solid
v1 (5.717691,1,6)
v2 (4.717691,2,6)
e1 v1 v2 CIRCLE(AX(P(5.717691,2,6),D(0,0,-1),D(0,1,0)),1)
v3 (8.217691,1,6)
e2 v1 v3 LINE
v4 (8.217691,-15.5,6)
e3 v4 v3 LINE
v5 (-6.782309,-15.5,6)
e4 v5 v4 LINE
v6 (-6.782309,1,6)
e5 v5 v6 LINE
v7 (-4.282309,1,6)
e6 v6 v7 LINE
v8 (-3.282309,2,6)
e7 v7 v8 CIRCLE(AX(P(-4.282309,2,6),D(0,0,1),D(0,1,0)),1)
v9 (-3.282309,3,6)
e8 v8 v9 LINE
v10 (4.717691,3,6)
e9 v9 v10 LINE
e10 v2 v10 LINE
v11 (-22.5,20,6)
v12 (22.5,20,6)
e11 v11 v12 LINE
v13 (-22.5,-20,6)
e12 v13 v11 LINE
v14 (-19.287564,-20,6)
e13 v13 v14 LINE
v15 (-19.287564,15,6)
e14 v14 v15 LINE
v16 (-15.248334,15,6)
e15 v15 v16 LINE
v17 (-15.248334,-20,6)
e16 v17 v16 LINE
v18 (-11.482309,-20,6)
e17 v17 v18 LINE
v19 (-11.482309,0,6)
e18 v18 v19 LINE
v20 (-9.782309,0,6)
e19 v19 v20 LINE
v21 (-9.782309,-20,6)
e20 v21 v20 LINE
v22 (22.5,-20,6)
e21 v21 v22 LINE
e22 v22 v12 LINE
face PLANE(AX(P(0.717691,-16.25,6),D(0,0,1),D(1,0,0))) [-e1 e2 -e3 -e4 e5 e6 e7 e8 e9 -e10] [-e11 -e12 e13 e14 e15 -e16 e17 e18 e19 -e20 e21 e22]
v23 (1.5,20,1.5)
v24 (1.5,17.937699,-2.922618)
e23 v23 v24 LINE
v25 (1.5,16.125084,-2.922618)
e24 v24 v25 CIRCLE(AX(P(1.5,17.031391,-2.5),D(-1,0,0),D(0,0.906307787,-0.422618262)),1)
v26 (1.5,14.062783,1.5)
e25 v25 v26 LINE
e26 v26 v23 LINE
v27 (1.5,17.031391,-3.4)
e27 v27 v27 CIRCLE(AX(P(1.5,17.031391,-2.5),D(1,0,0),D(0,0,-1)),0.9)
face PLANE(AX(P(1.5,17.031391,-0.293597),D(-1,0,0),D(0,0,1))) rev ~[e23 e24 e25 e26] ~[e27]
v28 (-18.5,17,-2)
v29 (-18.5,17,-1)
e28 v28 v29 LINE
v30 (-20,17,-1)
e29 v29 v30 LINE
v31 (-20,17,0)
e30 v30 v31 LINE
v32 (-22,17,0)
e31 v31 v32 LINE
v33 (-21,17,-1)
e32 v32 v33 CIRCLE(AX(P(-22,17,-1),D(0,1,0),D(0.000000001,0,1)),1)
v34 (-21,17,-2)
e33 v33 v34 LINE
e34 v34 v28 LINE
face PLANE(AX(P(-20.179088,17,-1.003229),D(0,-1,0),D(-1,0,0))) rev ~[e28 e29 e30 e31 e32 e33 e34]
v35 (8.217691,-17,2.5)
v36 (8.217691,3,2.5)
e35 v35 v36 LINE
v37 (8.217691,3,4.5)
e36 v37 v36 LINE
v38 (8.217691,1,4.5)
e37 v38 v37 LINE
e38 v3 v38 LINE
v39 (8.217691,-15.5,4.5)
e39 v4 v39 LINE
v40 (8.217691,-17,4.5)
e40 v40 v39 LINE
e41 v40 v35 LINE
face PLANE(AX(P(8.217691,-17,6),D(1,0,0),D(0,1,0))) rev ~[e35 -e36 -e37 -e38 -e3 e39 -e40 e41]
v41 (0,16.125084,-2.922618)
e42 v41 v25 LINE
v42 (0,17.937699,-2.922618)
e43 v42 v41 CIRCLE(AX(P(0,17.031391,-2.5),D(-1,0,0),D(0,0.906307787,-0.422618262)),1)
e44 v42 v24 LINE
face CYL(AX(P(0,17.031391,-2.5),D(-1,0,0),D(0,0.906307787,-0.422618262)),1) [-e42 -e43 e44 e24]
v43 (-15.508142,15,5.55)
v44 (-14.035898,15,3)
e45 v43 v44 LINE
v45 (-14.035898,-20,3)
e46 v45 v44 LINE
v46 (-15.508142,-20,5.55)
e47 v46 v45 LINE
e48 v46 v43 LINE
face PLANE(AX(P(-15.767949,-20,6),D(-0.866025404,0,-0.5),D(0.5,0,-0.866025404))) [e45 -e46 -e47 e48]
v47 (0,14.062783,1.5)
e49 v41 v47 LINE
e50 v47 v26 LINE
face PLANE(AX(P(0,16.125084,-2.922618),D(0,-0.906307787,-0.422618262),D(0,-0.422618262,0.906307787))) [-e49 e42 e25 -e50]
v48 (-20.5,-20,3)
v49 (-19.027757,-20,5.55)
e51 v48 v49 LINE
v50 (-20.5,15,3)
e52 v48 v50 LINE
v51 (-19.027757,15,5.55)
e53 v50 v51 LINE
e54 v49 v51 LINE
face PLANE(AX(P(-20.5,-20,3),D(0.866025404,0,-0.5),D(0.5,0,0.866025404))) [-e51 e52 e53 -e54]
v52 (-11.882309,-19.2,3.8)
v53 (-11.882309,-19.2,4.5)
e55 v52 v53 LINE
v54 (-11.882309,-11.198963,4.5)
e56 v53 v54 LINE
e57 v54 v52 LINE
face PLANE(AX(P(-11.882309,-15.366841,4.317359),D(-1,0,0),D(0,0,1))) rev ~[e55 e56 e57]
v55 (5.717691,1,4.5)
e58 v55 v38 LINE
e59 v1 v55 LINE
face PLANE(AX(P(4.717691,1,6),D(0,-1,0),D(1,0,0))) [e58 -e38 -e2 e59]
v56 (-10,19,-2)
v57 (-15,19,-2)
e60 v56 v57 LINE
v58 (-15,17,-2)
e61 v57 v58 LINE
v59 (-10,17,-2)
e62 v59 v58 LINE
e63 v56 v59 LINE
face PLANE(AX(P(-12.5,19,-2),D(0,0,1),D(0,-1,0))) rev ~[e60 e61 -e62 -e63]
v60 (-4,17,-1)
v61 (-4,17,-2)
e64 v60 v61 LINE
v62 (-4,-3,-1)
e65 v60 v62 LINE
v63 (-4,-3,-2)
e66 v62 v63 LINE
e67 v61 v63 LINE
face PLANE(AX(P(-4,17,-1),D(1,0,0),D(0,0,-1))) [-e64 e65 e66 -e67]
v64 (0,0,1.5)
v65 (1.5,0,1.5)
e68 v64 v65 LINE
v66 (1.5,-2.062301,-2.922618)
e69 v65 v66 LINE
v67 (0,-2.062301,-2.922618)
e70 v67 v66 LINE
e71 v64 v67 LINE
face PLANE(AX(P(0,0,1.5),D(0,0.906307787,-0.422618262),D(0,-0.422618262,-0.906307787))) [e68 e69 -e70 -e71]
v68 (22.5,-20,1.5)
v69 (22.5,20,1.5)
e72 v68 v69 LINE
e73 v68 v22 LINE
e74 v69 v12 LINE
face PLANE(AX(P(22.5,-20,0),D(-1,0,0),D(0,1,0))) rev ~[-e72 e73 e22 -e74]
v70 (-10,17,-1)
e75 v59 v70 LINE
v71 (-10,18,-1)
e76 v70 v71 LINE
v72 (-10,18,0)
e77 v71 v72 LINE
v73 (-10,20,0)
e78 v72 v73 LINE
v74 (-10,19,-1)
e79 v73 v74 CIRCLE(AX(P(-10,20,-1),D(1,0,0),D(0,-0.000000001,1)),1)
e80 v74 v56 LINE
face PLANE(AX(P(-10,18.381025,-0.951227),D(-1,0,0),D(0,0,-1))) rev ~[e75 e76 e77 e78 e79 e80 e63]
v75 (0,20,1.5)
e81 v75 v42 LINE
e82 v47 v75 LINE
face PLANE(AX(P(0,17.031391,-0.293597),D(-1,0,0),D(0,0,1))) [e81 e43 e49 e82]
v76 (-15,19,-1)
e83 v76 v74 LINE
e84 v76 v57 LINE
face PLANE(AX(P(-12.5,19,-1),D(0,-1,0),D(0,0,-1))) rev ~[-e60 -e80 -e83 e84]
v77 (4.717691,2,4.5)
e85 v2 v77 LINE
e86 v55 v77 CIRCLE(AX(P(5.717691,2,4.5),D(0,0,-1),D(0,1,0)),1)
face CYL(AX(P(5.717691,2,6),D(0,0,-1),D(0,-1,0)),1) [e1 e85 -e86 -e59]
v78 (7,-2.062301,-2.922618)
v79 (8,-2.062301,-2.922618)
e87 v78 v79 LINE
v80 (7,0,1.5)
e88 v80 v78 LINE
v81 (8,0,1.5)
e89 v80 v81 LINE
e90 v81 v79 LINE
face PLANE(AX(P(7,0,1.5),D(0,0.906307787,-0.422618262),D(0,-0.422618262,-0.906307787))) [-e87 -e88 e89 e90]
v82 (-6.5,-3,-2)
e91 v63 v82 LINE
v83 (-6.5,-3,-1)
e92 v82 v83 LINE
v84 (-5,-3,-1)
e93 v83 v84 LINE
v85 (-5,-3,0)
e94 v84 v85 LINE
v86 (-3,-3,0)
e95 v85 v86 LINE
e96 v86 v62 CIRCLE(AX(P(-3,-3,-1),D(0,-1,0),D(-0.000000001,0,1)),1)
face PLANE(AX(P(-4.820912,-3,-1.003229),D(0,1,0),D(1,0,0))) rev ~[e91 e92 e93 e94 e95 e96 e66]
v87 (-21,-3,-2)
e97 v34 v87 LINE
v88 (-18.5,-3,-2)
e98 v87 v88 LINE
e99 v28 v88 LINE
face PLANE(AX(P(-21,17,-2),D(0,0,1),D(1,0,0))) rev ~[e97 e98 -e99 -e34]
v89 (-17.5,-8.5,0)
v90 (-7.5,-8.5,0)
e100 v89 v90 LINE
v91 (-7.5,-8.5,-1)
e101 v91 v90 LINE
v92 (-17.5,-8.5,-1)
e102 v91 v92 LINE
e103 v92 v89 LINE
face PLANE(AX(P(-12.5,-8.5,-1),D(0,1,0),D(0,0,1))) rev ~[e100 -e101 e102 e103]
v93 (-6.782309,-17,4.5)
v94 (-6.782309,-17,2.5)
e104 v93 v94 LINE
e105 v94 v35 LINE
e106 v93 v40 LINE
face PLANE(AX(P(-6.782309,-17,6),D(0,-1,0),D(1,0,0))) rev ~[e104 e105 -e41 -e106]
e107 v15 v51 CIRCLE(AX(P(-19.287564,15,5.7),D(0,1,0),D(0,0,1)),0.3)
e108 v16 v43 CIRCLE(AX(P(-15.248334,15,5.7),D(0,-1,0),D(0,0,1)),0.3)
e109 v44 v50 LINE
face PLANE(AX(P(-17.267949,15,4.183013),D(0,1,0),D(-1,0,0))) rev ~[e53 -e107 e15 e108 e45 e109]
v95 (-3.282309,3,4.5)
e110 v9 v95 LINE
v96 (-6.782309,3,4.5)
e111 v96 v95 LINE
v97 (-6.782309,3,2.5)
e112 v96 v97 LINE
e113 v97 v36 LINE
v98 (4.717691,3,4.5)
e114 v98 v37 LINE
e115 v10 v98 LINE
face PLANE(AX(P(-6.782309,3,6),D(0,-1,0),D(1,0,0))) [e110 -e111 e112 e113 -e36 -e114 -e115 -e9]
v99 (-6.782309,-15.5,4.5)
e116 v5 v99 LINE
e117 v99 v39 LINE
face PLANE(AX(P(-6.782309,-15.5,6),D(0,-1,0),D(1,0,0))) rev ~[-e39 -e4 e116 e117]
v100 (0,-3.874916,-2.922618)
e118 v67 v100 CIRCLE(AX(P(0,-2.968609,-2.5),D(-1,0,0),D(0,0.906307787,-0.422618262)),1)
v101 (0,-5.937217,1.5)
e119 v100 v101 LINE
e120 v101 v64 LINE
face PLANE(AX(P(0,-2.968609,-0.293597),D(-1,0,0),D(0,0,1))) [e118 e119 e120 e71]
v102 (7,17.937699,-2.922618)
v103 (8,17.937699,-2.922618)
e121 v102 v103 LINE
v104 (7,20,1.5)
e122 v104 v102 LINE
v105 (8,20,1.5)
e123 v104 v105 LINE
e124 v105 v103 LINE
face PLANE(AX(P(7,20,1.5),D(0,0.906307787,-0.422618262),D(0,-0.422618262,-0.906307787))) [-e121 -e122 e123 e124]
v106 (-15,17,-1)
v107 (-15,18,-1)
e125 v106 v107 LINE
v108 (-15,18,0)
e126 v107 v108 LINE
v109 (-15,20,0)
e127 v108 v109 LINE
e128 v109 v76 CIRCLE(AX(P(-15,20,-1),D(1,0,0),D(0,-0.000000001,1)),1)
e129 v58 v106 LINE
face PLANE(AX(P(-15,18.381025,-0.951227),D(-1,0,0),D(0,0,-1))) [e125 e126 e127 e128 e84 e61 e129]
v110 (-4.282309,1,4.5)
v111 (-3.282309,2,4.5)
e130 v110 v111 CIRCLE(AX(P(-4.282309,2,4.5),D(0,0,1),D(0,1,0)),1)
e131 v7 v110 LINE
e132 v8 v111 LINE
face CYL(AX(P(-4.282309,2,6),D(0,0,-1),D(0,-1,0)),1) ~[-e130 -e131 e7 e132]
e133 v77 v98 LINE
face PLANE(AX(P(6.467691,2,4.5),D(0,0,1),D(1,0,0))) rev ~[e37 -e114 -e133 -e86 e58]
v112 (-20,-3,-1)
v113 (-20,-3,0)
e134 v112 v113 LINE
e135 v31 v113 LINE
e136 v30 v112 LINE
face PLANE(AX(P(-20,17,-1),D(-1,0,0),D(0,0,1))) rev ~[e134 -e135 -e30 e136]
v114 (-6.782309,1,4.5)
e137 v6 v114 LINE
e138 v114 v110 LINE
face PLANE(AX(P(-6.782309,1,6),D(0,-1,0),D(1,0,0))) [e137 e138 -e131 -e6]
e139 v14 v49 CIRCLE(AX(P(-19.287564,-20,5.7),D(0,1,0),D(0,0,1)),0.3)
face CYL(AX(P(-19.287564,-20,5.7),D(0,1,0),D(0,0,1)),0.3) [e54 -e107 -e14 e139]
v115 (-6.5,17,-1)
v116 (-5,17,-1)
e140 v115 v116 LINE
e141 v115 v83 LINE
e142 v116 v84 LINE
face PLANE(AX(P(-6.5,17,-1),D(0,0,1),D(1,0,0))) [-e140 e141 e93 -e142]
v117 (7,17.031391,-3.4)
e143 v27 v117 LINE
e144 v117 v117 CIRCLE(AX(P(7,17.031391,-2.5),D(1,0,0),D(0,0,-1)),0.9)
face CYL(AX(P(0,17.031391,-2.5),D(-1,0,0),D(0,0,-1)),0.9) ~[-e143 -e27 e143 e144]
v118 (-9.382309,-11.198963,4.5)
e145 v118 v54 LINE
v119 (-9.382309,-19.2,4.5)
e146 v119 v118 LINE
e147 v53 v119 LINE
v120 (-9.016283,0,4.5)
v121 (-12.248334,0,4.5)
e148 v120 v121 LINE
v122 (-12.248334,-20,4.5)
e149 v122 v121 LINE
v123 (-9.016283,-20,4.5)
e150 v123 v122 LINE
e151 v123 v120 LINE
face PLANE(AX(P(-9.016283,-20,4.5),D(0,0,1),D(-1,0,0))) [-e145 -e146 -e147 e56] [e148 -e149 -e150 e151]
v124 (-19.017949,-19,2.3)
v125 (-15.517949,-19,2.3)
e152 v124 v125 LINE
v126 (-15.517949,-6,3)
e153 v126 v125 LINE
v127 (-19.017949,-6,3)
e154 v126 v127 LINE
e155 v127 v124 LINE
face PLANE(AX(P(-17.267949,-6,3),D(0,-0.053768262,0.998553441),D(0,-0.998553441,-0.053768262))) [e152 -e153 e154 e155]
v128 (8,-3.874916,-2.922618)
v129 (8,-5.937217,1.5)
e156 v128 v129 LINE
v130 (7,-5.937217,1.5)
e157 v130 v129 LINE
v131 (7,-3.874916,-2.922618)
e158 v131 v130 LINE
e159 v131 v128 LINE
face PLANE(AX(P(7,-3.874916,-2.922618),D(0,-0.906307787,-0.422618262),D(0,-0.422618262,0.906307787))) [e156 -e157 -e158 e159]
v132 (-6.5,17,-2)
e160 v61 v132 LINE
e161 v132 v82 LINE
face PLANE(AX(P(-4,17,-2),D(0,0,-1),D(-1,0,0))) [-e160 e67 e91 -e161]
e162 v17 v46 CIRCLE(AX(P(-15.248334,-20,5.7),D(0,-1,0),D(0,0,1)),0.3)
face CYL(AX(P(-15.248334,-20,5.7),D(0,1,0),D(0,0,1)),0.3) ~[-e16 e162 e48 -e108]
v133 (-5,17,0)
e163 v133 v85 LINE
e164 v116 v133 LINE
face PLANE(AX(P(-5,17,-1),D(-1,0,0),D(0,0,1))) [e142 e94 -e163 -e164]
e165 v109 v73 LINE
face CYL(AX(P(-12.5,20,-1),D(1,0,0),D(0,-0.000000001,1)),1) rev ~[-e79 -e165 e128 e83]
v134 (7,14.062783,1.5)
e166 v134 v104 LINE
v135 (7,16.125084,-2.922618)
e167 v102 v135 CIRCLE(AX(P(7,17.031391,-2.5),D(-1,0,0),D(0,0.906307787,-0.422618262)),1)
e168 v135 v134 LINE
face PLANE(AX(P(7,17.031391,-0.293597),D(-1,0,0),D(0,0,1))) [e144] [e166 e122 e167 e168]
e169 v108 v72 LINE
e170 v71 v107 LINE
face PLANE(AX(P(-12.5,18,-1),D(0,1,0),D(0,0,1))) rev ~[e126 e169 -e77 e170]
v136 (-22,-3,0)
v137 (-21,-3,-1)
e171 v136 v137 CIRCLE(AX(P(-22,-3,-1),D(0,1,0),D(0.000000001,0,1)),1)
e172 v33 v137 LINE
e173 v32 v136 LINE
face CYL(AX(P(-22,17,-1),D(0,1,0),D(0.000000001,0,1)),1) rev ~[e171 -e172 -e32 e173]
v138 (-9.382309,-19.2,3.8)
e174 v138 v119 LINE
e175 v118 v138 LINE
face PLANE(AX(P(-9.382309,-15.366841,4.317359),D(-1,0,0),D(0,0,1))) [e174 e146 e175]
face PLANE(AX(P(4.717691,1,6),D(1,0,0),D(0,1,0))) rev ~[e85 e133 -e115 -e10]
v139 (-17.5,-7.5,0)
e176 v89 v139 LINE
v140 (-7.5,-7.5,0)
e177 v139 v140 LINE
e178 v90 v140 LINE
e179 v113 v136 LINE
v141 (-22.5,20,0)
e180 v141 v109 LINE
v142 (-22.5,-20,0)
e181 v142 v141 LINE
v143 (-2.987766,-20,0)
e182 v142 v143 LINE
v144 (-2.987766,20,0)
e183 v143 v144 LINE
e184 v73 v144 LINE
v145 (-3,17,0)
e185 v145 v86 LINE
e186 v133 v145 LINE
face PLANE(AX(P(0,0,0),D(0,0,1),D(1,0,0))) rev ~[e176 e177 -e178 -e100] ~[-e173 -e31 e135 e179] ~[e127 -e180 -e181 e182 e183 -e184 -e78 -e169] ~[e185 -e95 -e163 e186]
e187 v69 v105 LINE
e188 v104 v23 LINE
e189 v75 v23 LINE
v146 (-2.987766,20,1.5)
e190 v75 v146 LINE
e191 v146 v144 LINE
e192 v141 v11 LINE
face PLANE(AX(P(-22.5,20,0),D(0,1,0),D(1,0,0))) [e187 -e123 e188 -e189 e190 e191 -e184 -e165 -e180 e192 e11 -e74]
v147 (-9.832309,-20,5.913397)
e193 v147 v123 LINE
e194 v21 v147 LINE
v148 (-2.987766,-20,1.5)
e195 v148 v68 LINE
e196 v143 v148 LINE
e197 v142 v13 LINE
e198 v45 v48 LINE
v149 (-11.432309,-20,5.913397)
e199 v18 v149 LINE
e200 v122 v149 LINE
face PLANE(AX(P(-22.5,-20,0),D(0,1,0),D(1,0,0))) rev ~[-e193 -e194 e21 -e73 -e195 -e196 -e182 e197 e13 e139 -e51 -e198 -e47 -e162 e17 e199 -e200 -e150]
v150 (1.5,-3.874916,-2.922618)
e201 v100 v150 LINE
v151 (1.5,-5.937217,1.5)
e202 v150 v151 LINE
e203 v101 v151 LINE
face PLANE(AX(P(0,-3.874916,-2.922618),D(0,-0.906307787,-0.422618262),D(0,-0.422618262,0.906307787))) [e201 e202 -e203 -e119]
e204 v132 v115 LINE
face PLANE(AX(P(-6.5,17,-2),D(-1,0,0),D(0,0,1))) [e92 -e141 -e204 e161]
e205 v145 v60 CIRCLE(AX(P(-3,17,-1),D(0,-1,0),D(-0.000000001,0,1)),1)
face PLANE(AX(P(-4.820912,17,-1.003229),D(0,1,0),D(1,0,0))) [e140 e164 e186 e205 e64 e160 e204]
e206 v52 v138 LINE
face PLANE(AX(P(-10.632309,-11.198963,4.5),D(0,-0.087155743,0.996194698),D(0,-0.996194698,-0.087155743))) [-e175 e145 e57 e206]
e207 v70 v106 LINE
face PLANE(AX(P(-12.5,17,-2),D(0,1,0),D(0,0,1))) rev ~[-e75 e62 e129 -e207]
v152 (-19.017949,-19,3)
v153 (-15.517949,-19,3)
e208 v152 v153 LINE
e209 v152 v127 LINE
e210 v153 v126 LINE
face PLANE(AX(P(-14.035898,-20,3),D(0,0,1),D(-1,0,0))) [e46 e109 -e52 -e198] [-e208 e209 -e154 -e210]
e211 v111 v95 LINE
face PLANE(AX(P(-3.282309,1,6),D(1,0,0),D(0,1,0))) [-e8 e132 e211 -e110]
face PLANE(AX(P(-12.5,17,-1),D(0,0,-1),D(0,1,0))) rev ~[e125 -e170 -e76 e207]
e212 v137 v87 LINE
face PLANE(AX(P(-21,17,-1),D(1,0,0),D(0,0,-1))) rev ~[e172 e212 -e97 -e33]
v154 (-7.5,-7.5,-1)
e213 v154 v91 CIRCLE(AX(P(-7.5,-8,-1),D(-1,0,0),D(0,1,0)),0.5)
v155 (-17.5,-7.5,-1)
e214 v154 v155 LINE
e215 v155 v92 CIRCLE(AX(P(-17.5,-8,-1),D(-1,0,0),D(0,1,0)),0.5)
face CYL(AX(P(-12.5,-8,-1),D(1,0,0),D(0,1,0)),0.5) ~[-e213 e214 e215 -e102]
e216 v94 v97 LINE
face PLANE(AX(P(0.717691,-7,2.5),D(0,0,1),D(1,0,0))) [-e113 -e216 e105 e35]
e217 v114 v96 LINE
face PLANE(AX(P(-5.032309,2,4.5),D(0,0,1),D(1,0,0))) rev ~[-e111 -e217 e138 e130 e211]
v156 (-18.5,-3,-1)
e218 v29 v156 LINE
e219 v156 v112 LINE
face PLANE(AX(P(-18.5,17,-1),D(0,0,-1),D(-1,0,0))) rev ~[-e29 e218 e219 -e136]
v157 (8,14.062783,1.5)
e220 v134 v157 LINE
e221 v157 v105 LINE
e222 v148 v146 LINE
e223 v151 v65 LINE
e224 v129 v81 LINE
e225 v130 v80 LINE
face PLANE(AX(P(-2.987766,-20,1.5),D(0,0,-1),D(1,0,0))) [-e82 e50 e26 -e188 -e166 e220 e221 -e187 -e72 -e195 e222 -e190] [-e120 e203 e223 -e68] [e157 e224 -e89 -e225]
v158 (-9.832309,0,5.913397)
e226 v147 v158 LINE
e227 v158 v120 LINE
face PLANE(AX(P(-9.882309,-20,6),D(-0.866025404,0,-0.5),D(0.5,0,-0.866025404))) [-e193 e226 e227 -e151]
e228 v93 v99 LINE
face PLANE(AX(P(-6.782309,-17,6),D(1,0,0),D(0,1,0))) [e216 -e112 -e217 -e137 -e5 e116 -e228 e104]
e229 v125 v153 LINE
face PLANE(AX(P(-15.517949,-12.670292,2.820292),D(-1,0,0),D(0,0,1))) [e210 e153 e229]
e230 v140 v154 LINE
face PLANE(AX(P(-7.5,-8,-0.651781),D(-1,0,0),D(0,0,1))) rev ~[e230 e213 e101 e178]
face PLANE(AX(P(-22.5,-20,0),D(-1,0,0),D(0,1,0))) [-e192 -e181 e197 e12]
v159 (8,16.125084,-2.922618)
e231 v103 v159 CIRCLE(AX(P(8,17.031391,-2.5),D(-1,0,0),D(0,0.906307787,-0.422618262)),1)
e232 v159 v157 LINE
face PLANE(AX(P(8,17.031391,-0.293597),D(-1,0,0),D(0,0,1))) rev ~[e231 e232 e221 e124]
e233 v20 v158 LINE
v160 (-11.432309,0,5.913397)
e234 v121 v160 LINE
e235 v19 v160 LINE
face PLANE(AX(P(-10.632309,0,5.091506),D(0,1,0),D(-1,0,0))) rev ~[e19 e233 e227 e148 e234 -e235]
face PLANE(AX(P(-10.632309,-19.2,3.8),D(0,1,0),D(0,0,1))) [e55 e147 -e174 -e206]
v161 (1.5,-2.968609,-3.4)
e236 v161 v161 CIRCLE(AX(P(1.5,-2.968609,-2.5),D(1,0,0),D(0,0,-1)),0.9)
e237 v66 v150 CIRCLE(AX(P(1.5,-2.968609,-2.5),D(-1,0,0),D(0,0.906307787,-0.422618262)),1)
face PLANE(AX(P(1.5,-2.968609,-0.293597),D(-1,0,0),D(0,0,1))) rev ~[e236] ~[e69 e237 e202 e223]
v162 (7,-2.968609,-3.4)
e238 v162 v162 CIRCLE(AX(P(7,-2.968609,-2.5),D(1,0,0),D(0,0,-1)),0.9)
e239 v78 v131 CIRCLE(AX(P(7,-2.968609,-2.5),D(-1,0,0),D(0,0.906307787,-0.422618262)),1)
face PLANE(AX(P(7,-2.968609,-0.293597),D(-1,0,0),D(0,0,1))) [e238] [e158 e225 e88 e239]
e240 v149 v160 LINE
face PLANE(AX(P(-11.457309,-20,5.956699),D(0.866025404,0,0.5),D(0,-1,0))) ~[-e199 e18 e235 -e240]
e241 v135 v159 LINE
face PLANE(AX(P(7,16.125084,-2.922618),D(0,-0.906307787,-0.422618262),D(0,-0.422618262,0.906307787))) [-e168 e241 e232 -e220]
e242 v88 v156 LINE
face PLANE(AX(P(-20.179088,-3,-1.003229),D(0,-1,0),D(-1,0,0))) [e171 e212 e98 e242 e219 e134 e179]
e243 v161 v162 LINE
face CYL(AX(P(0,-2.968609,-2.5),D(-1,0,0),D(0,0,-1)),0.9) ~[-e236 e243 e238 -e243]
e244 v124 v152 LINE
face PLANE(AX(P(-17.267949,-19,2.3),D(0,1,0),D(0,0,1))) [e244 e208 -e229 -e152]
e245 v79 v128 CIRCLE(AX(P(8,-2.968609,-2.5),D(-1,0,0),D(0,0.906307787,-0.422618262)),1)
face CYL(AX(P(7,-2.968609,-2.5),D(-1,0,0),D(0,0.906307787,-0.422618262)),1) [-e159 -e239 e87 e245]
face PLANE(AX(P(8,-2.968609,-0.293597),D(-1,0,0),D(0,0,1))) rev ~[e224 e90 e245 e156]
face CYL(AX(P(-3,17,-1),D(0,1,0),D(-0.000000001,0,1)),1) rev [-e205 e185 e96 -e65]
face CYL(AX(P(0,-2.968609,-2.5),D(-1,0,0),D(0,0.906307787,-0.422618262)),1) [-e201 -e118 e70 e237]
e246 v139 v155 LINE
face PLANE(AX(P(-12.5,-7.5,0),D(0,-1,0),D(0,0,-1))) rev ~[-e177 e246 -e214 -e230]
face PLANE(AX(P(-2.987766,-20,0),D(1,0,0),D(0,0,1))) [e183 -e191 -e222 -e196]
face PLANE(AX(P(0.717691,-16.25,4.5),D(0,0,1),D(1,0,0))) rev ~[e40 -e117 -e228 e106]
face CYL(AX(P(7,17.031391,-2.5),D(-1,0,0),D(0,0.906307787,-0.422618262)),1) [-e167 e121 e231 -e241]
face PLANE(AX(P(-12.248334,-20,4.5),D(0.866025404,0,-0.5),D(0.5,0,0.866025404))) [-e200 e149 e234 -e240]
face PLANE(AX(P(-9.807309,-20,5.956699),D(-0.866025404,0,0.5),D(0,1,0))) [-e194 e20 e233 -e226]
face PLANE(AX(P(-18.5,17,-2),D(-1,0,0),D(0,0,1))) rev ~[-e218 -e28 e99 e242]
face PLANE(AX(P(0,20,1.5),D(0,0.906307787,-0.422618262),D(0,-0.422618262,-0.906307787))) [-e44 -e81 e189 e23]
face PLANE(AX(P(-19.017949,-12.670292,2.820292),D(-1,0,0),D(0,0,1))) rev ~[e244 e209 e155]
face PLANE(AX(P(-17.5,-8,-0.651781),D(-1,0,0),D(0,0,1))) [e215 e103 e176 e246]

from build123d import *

# Parameters (mm, degrees)
SKETCH1_W           = 45
SKETCH1_H           = 40
BOSS_EXTRUDE1_DEPTH = 6
CUT_EXTRUDE1_DEPTH  = 35
FILLET4_R           = 0.3
CUT_EXTRUDE4_DEPTH  = 20
CHAMFER1_SIZE       = 0.1
SKETCH10_W          = 25.487766081
SKETCH10_H          = 1.5
CUT_EXTRUDE8_DEPTH  = 47.284446632
CUT_EXTRUDE9_DEPTH  = 1.75
CUT_EXTRUDE10_DEPTH = 1.25
SKETCH13_W          = 15
SKETCH13_H          = 20
CUT_EXTRUDE11_DEPTH = 3.5
SKETCH14_W          = 15
SKETCH14_H          = 1.5
SKETCH14_W_2        = 3.5
SKETCH14_H_2        = 2
BOSS_EXTRUDE2_DEPTH = 1.5
FILLET5_R           = 1
SKETCH15_R          = 0.9
BOSS_EXTRUDE3_DEPTH = 1.5
BOSS_EXTRUDE4_START = 7
SKETCH15_3_R        = 0.9
BOSS_EXTRUDE4_DEPTH = 1
SKETCH15_4_R        = 0.9
BOSS_EXTRUDE5_DEPTH = 8
BOSS_EXTRUDE6_START = -3
BOSS_EXTRUDE6_DEPTH = 20
BOSS_EXTRUDE7_DEPTH = 2.5
BOSS_EXTRUDE8_DEPTH = 5


with BuildPart() as part:
    # Sketch1 → Boss-Extrude1 (new body)
    with BuildSketch(Plane.XY):
        Rectangle(SKETCH1_W, SKETCH1_H)
    extrude(amount=BOSS_EXTRUDE1_DEPTH)

    # Sketch2 → Cut-Extrude1 (cut)
    with BuildSketch(Plane.XZ.offset(20)):
        Polygon((-15.767949192, 6), (-14.035898385, 3), (-20.5, 3), (-18.767949192, 6), align=None)
    extrude(amount=-CUT_EXTRUDE1_DEPTH, mode=Mode.SUBTRACT)

    # Fillet4
    fillet4_edges = [part.edges().sort_by_distance(p)[0] for p in [
        (-18.767949192, -2.5, 6),
        (-15.767949192, -2.5, 6),
    ]]
    fillet(fillet4_edges, radius=FILLET4_R)

    # Sketch5 → Cut-Extrude4 (cut)
    with BuildSketch(Plane.XZ.offset(20)):
        Polygon((-9.882308546, 6), (-9.016283143, 4.5), (-12.24833395, 4.5), (-11.382308546, 6), align=None)
    extrude(amount=-CUT_EXTRUDE4_DEPTH, mode=Mode.SUBTRACT)

    # Chamfer1
    chamfer1_edges = [part.edges().sort_by_distance(p)[0] for p in [
        (-11.382308546, -10, 6),
        (-9.882308546, -10, 6),
    ]]
    chamfer(chamfer1_edges, length=CHAMFER1_SIZE)

    # Sketch10 → Cut-Extrude8 (cut, through all)
    with BuildSketch(Plane.XZ.offset(20)):
        with Locations((9.756116959, 0.75)):
            Rectangle(SKETCH10_W, SKETCH10_H)
    extrude(amount=-CUT_EXTRUDE8_DEPTH, mode=Mode.SUBTRACT)

    # Sketch11 → Cut-Extrude9 (cut, symmetric)
    with BuildSketch(Plane(origin=(-17.267949192, 0, 0), x_dir=(0, 0, -1), z_dir=(1, 0, 0))):
        Polygon((-3, -19), (-3, -6), (-2.3, -19), align=None)
    extrude(amount=CUT_EXTRUDE9_DEPTH, both=True, mode=Mode.SUBTRACT)

    # Sketch12 → Cut-Extrude10 (cut, symmetric)
    with BuildSketch(Plane(origin=(-10.632308546, 0, 0), x_dir=(0, 0, -1), z_dir=(1, 0, 0))):
        Polygon((-4.5, -19.2), (-4.5, -11.198963388), (-3.8, -19.2), align=None)
    extrude(amount=CUT_EXTRUDE10_DEPTH, both=True, mode=Mode.SUBTRACT)

    # Sketch13 → Cut-Extrude11 (cut)
    with BuildSketch(Plane.XY.offset(6)):
        with Locations((0.717691454, -7)):
            Rectangle(SKETCH13_W, SKETCH13_H)
    extrude(amount=-CUT_EXTRUDE11_DEPTH, mode=Mode.SUBTRACT)

    # Sketch14 → Boss-Extrude2 (add)
    with BuildSketch(Plane.XY.offset(6)):
        with Locations((0.717691454, -16.25)):
            Rectangle(SKETCH14_W, SKETCH14_H)
        with Locations((-5.032308546, 2)):
            Rectangle(SKETCH14_W_2, SKETCH14_H_2)
        with Locations((6.467691454, 2)):
            Rectangle(SKETCH14_W_2, SKETCH14_H_2)
    extrude(amount=-BOSS_EXTRUDE2_DEPTH)

    # Fillet5
    fillet5_edges = [part.edges().sort_by_distance(p)[0] for p in [
        (-3.282308546, 1, 5.25),
        (4.717691454, 1, 5.25),
    ]]
    fillet(fillet5_edges, radius=FILLET5_R)

    # Sketch15 → Boss-Extrude3 (add)
    # profile 1 of 2: a face of its own
    with BuildSketch(Plane(origin=(0, 0, 0), x_dir=(0, 0, -1), z_dir=(1, 0, 0))):
        with BuildLine():
            Line((2.922618262, 16.125083661), (-1.5, 14.062782897))
            Line((-1.5, 14.062782897), (-1.5, 20))
            Line((-1.5, 20), (2.922618262, 17.937699235))
            ThreePointArc((2.922618262, 17.937699235), (3.5, 17.031391448), (2.922618262, 16.125083661))
        make_face()
        with Locations((2.5, 17.031391448)):
            Circle(SKETCH15_R, mode=Mode.SUBTRACT)
    # profile 2 of 2: a face of its own
    with BuildSketch(Plane(origin=(0, 0, 0), x_dir=(0, 0, -1), z_dir=(1, 0, 0))):
        with BuildLine():
            ThreePointArc((2.922618262, -2.062300765), (3.5, -2.968608552), (2.922618262, -3.874916339))
            Line((2.922618262, -3.874916339), (-1.5, -5.937217103))
            Line((-1.5, -5.937217103), (-1.5, 0))
            Line((-1.5, 0), (2.922618262, -2.062300765))
        make_face()
        with Locations((2.5, -2.968608552)):
            Circle(SKETCH15_R, mode=Mode.SUBTRACT)
    extrude(amount=BOSS_EXTRUDE3_DEPTH)

    # Sketch15<3> → Boss-Extrude4 (add)
    # profile 1 of 2: a face of its own
    with BuildSketch(Plane(origin=(0, 0, 0), x_dir=(0, 0, -1), z_dir=(1, 0, 0)).offset(BOSS_EXTRUDE4_START)):
        with BuildLine():
            ThreePointArc((2.922618262, -2.062300765), (3.5, -2.968608552), (2.922618262, -3.874916339))
            Line((2.922618262, -3.874916339), (-1.5, -5.937217103))
            Line((-1.5, -5.937217103), (-1.5, 0))
            Line((-1.5, 0), (2.922618262, -2.062300765))
        make_face()
        with Locations((2.5, -2.968608552)):
            Circle(SKETCH15_3_R, mode=Mode.SUBTRACT)
    # profile 2 of 2: a face of its own
    with BuildSketch(Plane(origin=(0, 0, 0), x_dir=(0, 0, -1), z_dir=(1, 0, 0)).offset(BOSS_EXTRUDE4_START)):
        with BuildLine():
            Line((2.922618262, 16.125083661), (-1.5, 14.062782897))
            Line((-1.5, 14.062782897), (-1.5, 20))
            Line((-1.5, 20), (2.922618262, 17.937699235))
            ThreePointArc((2.922618262, 17.937699235), (3.5, 17.031391448), (2.922618262, 16.125083661))
        make_face()
        with Locations((2.5, 17.031391448)):
            Circle(SKETCH15_3_R, mode=Mode.SUBTRACT)
    extrude(amount=BOSS_EXTRUDE4_DEPTH)

    # Sketch15<4> → Boss-Extrude5 (add)
    with BuildSketch(Plane(origin=(0, 0, 0), x_dir=(0, 0, -1), z_dir=(1, 0, 0))):
        with Locations((2.5, 17.031391448)):
            Circle(SKETCH15_4_R)
        with Locations((2.5, -2.968608552)):
            Circle(SKETCH15_4_R)
    extrude(amount=BOSS_EXTRUDE5_DEPTH)

    # Sketch16 → Boss-Extrude6 (add)
    with BuildSketch(Plane(origin=(0, 20, 0), x_dir=(1, 0, 0), z_dir=(0, 1, 0)).offset(BOSS_EXTRUDE6_START)):
        with BuildLine():
            Line((-21, 1), (-21, 2))
            Line((-21, 2), (-18.5, 2))
            Line((-18.5, 2), (-18.5, 1))
            Line((-18.5, 1), (-20, 1))
            Line((-20, 1), (-20, 0))
            Line((-20, 0), (-22, 0))
            ThreePointArc((-22, 0), (-21.292893219, 0.292893219), (-21, 1))
        make_face()
        with BuildLine():
            Line((-5, 0), (-3, 0))
            ThreePointArc((-3, 0), (-3.707106781, 0.292893219), (-4, 1))
            Line((-4, 1), (-4, 2))
            Line((-4, 2), (-6.5, 2))
            Line((-6.5, 2), (-6.5, 1))
            Line((-6.5, 1), (-5, 1))
            Line((-5, 1), (-5, 0))
        make_face()
    extrude(amount=-BOSS_EXTRUDE6_DEPTH)

    # Sketch18 → Boss-Extrude7 (add, symmetric)
    with BuildSketch(Plane(origin=(-12.5, 0, 0), x_dir=(0, 0, 1), z_dir=(1, 0, 0))):
        with BuildLine():
            Line((-1, -19), (-2, -19))
            Line((-2, -19), (-2, -17))
            Line((-2, -17), (-1, -17))
            Line((-1, -17), (-1, -18))
            Line((-1, -18), (0, -18))
            Line((0, -18), (0, -20))
            ThreePointArc((0, -20), (-0.292893219, -19.292893219), (-1, -19))
        make_face()
    extrude(amount=BOSS_EXTRUDE7_DEPTH, both=True)

    # Sketch19 → Boss-Extrude8 (add, symmetric)
    with BuildSketch(Plane(origin=(-12.5, 0, 0), x_dir=(0, 0, -1), z_dir=(1, 0, 0))):
        with BuildLine():
            Line((0, -7.5), (1, -7.5))
            ThreePointArc((1, -7.5), (1.5, -8), (1, -8.5))
            Line((1, -8.5), (0, -8.5))
            Line((0, -8.5), (0, -7.5))
        make_face()
    extrude(amount=BOSS_EXTRUDE8_DEPTH, both=True)


solid = part.part
